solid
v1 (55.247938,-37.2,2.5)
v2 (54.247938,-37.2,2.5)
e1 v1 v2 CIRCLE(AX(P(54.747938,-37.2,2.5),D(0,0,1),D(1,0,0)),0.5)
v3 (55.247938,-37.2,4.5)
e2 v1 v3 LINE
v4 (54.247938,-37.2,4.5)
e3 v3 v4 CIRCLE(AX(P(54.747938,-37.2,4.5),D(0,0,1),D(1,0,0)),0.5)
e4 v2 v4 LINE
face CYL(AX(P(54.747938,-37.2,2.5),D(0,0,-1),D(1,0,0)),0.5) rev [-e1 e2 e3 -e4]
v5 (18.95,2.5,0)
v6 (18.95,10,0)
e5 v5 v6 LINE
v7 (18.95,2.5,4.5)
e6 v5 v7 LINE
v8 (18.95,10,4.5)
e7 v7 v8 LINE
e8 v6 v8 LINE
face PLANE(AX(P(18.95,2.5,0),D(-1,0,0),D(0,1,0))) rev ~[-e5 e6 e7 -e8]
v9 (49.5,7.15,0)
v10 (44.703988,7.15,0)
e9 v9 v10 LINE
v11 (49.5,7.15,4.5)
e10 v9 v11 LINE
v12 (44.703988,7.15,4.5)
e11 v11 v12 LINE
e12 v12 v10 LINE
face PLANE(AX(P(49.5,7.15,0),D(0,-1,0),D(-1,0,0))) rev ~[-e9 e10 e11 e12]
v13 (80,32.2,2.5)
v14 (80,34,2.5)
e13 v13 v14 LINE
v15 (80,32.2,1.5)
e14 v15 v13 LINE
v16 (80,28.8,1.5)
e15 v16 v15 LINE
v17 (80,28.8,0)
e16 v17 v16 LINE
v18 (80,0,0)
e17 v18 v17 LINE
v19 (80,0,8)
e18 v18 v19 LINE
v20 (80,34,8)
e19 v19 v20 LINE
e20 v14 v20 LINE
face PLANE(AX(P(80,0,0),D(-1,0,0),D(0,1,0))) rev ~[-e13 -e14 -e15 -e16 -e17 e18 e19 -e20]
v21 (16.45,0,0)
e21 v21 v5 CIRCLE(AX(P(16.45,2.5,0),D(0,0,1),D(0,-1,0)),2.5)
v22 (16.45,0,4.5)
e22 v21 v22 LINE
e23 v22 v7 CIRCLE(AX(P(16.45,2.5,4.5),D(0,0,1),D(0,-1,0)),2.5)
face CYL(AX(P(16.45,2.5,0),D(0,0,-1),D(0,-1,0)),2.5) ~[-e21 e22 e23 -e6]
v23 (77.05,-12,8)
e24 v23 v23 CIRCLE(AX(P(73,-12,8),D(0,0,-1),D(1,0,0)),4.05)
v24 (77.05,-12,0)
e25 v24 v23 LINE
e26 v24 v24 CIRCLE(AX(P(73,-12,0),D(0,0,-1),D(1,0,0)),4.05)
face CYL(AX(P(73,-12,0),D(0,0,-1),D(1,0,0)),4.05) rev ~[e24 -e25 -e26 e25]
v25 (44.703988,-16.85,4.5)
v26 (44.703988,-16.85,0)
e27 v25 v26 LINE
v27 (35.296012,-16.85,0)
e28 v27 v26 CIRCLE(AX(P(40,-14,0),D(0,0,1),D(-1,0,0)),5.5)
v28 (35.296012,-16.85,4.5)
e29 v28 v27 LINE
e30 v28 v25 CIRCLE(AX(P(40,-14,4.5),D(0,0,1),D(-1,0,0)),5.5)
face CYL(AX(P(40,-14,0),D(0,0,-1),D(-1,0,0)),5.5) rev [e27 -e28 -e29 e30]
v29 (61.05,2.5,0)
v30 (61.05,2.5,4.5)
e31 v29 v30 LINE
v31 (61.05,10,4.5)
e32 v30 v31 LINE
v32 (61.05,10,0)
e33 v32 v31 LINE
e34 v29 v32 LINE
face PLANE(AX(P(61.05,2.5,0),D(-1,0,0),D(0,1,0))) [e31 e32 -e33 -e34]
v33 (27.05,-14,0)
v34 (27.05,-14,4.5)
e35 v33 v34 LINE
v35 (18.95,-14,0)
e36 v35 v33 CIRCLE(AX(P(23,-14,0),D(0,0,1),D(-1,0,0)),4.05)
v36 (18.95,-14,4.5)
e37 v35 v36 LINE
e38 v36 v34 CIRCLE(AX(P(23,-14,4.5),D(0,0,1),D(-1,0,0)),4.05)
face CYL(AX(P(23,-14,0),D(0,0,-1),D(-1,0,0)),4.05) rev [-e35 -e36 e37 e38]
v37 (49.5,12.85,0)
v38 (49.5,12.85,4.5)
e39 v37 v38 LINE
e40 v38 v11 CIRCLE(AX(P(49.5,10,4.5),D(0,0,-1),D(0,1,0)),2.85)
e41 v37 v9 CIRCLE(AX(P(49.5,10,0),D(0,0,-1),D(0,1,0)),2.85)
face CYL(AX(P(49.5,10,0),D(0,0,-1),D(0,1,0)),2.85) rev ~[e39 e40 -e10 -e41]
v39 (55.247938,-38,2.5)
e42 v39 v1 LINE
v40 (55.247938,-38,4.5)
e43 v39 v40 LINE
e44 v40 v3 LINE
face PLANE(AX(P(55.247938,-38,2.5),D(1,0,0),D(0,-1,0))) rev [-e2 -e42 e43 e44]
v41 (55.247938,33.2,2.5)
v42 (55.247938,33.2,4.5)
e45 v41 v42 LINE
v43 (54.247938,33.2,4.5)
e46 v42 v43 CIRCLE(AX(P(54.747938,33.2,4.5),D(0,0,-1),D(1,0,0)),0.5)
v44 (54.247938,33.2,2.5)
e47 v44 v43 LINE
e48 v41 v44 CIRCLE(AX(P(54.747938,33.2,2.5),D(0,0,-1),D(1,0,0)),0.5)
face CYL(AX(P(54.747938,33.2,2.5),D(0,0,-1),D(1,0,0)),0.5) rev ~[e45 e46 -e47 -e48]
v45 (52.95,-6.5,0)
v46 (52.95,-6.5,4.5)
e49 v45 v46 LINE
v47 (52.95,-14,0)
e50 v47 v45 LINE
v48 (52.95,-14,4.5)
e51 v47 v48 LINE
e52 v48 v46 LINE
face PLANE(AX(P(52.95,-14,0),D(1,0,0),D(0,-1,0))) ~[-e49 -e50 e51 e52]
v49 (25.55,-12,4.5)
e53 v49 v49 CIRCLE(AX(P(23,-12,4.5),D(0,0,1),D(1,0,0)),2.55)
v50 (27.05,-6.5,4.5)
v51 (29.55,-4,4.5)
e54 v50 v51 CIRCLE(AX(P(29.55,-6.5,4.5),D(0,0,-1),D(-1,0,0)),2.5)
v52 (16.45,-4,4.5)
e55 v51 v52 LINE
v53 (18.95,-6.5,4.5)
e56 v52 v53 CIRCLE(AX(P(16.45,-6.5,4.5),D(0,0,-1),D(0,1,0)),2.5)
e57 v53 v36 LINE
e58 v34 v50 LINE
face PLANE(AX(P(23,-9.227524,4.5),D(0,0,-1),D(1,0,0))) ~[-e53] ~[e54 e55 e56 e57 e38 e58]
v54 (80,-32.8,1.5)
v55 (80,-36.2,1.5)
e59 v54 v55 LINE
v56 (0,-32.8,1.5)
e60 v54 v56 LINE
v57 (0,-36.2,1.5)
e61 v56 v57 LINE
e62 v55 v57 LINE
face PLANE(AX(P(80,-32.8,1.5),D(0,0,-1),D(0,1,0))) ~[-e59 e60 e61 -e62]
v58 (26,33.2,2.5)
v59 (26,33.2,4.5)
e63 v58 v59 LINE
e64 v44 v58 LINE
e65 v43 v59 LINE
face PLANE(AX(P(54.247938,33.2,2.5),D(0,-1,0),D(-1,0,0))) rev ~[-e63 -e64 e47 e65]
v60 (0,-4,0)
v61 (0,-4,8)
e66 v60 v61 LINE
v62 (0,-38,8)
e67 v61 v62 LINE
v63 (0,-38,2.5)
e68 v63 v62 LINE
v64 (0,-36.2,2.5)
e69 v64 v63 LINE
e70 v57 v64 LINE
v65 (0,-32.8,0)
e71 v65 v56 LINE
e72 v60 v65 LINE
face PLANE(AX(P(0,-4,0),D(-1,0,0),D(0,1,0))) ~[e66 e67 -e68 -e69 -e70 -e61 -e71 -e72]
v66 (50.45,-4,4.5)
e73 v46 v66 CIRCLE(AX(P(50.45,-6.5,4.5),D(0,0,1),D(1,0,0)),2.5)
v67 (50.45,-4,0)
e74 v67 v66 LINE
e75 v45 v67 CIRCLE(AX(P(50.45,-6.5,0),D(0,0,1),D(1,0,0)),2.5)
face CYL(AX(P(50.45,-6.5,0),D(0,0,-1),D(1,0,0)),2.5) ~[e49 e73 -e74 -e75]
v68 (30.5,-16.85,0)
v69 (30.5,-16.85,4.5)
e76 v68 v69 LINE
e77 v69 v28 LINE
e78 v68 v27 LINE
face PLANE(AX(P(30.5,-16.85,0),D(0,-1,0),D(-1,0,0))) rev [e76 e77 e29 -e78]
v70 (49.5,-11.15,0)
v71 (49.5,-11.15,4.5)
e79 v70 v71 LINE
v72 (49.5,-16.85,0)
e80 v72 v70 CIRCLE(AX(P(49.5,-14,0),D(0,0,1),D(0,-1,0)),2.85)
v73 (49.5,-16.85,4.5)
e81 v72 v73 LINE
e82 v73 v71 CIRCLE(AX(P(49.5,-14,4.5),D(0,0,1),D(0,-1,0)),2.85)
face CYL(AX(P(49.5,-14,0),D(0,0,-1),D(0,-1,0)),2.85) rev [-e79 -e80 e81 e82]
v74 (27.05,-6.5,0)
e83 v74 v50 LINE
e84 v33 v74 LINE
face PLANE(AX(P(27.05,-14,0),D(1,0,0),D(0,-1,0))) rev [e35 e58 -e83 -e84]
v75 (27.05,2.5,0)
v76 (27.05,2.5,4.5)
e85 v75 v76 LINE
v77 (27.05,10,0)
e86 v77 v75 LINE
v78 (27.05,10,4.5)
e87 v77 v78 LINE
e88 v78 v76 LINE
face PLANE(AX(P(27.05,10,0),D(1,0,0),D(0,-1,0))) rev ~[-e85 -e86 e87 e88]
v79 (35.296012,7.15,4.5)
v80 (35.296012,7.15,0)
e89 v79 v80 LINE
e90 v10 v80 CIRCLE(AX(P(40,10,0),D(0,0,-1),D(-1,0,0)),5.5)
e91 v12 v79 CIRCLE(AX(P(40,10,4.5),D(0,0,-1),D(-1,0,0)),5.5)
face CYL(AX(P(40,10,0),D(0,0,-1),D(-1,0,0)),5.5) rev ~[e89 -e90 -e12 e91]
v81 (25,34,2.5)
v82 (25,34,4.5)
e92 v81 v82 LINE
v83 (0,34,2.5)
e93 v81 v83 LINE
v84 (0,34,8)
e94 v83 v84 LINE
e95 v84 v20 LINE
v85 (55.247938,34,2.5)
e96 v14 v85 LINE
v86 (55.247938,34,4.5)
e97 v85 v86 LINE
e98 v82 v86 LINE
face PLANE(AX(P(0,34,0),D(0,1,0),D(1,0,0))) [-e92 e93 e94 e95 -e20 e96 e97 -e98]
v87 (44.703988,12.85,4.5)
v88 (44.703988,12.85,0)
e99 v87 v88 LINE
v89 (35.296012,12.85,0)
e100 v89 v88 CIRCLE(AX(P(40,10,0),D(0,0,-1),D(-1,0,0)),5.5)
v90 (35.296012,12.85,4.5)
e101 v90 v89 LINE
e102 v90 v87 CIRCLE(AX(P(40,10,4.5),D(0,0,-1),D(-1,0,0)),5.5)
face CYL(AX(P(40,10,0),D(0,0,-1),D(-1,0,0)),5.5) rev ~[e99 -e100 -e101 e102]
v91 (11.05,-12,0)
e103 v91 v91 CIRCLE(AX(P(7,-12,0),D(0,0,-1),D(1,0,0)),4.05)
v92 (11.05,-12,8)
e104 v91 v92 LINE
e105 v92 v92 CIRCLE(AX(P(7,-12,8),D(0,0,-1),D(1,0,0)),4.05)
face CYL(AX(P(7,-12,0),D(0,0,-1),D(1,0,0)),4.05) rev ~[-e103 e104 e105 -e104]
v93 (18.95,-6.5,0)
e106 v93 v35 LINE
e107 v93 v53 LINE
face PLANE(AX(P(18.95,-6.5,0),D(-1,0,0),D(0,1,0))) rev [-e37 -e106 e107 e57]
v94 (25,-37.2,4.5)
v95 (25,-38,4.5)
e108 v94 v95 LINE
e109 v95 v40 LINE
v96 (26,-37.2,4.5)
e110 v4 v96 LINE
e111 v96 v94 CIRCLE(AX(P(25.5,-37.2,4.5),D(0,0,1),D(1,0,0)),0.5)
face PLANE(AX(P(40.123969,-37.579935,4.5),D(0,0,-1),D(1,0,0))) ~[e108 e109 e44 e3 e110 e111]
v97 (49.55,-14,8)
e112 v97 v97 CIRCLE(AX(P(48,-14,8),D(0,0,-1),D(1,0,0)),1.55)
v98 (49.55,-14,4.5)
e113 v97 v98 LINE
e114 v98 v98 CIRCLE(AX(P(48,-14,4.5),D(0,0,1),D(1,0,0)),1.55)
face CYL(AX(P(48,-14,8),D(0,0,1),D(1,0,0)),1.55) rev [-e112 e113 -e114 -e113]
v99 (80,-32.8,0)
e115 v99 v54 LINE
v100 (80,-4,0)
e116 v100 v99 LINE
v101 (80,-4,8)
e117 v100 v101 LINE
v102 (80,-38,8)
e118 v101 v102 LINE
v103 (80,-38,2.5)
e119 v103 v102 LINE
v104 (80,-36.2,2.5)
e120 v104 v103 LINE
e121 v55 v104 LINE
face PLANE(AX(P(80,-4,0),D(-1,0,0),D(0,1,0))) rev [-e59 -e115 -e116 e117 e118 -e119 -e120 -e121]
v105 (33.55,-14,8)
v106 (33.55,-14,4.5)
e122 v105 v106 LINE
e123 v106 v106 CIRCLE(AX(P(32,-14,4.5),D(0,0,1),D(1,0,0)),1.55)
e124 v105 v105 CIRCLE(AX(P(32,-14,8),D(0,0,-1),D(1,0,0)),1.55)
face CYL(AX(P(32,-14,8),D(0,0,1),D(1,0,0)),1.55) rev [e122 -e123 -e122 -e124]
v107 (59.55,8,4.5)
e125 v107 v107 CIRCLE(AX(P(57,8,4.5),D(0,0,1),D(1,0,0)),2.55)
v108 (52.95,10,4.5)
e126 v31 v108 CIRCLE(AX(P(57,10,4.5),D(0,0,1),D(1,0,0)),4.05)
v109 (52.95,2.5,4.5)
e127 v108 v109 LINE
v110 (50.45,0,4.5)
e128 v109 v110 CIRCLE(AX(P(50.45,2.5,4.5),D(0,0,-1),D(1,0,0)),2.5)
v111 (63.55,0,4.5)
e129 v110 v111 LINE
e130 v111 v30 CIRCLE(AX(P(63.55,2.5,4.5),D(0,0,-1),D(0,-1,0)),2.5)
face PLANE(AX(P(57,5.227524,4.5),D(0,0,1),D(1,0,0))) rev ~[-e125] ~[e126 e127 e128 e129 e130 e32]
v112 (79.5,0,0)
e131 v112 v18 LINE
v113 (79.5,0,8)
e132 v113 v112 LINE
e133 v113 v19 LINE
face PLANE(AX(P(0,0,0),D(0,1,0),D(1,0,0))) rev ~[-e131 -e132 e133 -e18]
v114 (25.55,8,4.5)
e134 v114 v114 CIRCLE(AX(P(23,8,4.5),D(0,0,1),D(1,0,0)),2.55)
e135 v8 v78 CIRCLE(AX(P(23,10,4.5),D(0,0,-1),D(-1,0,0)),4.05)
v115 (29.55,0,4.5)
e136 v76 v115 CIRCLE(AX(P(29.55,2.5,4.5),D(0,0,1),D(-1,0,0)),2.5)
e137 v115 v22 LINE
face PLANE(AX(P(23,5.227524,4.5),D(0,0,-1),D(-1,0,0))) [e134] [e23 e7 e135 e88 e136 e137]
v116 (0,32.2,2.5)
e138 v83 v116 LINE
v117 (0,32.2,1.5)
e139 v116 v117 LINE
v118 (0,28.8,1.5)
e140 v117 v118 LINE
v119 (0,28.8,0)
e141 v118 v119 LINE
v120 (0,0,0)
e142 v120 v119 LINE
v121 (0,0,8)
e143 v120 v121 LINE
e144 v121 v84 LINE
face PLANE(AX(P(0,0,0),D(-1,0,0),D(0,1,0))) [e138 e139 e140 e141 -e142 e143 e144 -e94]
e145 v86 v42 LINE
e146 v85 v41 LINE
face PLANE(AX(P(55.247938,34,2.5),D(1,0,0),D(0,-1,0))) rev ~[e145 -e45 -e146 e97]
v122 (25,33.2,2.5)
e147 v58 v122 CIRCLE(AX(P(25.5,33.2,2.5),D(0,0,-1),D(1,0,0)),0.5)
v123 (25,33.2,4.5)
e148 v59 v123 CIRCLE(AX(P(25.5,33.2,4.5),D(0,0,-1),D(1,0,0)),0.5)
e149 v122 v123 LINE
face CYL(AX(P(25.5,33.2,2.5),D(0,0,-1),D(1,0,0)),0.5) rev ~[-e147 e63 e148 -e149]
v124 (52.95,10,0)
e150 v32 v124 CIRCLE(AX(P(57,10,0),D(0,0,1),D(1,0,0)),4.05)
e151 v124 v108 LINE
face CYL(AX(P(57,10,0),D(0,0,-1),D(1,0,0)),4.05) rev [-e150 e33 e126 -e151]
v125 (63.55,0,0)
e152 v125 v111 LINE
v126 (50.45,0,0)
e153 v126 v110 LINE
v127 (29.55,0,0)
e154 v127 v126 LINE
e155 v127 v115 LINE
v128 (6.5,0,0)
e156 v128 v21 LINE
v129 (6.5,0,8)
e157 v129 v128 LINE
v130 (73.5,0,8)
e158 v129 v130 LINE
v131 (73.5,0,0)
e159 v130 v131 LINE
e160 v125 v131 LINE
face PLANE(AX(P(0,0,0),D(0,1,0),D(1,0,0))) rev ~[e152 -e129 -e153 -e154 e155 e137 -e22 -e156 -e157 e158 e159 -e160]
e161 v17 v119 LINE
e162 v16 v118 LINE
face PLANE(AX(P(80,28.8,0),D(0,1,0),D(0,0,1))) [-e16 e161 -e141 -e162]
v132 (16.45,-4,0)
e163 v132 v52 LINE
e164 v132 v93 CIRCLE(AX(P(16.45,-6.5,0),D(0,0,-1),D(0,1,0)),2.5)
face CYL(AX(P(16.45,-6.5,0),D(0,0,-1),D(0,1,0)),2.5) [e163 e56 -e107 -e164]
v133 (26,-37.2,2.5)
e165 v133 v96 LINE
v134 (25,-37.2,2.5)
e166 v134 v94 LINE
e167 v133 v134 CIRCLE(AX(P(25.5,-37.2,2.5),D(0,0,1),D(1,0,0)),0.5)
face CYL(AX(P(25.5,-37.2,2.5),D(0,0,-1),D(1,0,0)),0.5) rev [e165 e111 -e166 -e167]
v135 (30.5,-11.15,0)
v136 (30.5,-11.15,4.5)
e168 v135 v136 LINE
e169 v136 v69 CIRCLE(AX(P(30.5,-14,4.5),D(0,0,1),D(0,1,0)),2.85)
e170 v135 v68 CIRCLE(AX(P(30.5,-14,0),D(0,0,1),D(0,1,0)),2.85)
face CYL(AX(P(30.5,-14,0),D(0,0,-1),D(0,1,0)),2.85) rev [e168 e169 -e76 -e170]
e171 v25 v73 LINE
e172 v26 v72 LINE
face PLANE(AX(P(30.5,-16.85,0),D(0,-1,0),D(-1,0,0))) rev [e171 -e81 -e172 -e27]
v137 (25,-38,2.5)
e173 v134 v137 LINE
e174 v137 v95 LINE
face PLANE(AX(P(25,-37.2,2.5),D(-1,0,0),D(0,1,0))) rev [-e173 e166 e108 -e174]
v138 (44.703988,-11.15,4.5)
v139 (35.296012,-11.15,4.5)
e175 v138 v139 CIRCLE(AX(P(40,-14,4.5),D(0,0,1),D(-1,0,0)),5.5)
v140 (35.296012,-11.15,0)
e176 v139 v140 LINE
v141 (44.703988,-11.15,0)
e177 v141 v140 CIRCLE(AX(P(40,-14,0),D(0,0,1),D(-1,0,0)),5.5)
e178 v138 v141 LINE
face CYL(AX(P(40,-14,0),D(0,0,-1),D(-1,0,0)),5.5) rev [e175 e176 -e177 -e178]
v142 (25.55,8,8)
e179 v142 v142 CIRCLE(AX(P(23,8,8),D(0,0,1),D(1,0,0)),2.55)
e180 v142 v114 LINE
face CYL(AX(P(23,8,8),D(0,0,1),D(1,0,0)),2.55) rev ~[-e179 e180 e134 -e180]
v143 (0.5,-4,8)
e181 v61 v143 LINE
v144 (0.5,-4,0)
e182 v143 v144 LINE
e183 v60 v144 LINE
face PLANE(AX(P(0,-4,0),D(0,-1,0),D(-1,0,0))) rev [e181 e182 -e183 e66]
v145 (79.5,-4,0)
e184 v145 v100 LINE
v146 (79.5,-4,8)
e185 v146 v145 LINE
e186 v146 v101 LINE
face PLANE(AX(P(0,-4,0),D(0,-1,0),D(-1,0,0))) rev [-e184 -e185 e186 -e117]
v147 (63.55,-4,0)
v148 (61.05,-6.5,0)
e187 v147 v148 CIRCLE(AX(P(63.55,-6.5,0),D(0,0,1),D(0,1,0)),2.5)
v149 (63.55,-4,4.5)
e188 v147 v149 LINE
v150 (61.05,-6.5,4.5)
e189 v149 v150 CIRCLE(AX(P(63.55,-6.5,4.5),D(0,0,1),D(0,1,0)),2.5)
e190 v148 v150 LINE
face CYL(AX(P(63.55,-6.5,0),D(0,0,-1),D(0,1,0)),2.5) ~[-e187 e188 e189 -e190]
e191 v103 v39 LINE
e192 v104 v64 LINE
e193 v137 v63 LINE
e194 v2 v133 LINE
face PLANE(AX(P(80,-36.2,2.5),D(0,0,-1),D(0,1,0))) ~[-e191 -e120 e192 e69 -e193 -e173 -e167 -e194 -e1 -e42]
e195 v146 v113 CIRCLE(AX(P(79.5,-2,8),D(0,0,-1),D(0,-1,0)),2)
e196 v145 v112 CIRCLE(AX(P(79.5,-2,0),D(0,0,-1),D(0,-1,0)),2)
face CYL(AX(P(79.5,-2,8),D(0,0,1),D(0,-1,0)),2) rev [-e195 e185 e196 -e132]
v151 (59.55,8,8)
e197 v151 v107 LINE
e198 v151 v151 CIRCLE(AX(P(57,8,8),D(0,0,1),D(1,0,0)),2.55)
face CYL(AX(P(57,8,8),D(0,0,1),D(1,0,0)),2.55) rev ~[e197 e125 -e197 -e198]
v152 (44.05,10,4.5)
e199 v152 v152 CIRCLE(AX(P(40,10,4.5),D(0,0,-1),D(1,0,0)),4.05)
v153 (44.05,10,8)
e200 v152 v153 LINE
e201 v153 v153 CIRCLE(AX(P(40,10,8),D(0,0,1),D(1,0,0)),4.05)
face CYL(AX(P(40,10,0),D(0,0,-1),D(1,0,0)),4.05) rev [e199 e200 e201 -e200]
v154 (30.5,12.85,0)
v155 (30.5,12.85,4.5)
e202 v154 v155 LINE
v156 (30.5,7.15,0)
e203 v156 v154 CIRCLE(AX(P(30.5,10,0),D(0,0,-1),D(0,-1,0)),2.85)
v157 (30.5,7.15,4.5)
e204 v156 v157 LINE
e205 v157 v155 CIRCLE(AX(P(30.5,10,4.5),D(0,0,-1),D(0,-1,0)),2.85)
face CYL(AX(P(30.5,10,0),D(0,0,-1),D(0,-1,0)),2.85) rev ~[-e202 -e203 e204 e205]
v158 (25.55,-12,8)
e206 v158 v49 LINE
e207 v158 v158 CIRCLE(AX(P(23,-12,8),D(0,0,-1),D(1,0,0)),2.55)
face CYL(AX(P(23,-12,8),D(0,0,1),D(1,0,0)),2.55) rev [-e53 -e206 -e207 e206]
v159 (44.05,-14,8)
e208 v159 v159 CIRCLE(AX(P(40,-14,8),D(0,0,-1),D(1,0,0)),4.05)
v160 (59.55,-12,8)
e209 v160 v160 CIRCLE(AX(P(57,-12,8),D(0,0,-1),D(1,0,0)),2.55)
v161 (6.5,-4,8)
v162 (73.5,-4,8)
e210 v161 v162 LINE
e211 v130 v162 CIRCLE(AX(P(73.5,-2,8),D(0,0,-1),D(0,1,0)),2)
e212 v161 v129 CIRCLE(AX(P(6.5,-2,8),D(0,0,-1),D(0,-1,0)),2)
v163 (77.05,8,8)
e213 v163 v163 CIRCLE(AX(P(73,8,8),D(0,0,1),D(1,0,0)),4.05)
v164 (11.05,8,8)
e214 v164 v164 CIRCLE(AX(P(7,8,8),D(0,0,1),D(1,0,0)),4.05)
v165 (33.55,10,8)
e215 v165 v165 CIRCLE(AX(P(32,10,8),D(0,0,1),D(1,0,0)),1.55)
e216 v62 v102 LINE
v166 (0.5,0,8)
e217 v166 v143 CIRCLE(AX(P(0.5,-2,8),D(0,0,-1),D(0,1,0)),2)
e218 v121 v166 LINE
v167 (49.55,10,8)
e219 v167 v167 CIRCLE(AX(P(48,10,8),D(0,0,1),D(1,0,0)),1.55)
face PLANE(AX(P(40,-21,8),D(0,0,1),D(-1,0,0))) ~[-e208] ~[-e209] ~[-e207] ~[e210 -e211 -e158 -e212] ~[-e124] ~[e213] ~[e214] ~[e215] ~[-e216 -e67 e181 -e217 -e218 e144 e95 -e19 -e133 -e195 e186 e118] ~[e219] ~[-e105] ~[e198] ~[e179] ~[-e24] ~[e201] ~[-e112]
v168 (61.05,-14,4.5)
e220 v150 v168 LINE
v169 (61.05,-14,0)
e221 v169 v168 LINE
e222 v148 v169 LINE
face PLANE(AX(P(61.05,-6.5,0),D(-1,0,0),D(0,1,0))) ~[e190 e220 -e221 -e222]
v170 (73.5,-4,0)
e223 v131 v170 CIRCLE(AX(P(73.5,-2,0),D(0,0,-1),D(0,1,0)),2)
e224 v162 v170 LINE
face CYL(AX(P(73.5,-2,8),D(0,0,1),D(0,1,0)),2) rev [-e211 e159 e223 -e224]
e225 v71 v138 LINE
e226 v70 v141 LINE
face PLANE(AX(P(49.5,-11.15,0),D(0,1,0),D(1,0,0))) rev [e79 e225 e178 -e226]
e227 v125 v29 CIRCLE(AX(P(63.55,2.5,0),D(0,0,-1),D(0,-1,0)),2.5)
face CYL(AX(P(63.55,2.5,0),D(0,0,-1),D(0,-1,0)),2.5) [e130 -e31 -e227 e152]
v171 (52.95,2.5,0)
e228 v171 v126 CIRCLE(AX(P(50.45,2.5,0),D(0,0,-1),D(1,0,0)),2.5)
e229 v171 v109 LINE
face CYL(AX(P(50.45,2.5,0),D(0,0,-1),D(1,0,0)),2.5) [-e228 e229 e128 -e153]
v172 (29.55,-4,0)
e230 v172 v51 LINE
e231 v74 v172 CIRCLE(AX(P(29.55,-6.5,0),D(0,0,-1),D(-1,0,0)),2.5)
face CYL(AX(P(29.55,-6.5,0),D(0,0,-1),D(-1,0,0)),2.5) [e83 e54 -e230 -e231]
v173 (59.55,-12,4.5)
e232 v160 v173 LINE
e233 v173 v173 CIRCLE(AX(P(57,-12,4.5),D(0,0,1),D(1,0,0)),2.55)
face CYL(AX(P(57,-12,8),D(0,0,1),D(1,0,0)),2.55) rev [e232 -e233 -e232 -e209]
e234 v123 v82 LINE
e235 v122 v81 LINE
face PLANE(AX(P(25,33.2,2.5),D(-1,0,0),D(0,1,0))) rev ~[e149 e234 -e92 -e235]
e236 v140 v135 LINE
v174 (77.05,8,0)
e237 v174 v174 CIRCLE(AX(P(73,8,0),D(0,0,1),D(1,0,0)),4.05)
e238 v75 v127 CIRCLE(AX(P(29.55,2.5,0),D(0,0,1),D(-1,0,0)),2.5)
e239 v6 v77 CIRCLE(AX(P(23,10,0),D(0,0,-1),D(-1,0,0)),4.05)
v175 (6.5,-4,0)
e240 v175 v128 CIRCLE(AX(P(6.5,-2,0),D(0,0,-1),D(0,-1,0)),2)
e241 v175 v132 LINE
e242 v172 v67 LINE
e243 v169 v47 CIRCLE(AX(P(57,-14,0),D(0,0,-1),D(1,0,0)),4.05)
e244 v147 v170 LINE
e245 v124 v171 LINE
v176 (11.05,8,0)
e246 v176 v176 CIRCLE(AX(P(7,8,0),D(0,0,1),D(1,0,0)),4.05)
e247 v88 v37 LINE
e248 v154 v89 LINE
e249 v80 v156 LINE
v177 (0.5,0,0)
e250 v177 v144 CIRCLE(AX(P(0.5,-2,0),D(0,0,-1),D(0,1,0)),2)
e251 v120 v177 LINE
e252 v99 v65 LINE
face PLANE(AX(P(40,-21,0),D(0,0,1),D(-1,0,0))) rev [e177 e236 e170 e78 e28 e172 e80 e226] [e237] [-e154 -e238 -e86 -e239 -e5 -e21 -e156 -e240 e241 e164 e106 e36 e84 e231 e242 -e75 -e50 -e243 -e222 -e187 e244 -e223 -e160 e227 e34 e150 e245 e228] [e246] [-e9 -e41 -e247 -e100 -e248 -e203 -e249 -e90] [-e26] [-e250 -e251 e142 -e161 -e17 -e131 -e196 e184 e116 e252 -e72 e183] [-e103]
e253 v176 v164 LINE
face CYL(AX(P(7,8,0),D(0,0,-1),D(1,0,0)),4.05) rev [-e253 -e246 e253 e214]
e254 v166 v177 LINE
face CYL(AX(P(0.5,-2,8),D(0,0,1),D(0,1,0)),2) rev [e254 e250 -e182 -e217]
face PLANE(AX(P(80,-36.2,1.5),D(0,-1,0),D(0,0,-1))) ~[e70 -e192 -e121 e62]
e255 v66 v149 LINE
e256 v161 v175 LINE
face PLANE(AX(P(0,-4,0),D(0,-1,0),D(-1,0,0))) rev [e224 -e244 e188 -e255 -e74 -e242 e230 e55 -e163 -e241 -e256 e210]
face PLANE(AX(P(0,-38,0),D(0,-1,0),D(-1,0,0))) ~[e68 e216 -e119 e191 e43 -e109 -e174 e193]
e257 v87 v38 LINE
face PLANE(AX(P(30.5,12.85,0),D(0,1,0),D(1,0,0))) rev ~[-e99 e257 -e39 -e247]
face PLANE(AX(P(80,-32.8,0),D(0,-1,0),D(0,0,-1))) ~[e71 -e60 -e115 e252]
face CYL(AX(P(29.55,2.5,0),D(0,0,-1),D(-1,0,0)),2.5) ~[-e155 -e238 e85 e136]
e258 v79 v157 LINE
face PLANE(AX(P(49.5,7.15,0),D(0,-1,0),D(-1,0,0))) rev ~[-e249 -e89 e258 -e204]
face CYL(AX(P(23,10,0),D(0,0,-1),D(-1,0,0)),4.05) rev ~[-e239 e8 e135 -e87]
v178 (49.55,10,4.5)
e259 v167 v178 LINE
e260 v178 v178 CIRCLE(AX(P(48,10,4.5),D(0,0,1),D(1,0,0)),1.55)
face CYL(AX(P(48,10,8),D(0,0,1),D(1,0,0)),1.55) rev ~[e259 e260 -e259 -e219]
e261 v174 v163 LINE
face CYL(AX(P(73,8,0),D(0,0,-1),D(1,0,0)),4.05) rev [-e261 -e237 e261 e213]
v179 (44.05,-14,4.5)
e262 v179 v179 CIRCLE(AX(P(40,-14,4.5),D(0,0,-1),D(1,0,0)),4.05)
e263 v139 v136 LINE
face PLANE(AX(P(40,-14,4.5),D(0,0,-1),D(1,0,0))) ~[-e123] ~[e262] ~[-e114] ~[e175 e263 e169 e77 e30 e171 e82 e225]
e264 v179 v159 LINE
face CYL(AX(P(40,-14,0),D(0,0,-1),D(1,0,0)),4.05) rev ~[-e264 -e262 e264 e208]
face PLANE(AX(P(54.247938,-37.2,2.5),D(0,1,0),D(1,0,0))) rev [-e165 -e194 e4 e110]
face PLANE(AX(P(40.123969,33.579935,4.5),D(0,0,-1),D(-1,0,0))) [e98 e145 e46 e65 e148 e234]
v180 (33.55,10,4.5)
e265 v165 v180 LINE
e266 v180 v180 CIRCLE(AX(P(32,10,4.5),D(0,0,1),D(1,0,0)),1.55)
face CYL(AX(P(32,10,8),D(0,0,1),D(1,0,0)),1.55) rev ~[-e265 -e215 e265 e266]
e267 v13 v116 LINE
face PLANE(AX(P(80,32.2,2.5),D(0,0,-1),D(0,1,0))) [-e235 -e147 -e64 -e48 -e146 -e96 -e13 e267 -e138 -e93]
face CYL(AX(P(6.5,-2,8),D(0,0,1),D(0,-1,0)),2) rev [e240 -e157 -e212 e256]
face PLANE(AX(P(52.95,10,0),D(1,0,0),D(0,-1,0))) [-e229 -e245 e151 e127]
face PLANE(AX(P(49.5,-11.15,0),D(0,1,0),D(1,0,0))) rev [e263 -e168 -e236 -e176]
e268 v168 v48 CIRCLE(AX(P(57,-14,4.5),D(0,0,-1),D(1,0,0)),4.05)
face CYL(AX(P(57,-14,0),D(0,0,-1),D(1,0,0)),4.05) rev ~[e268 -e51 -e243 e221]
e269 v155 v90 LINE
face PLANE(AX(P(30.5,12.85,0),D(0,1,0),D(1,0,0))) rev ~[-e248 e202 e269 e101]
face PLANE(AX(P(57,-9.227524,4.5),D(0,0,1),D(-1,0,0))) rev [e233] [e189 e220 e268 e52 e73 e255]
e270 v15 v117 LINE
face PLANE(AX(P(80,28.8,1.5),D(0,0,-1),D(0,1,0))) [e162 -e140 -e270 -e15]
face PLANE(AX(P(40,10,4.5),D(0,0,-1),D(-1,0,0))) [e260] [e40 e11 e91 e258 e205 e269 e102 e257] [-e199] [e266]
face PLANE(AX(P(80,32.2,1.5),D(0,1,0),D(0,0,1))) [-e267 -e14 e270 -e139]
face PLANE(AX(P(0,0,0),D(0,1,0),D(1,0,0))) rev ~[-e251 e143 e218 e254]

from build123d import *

# Parameters (mm, degrees)
SKETCH_2_W           = 80
SKETCH_2_H           = 34
SKETCH_2_R           = 4.05
EXTRUDE_1_DEPTH      = 8
SKETCH_3_R           = 2.55
CUT_EXTRUDE_1_DEPTH  = 88.292611371
CUT_EXTRUDE_2_DEPTH  = 88.292611371
SKETCH_5_R           = 1.55
CUT_EXTRUDE_3_DEPTH  = 88.292611371
CUT_EXTRUDE_4_DEPTH  = 4.5
CUT_EXTRUDE_5_DEPTH  = 4.5
SKETCH_20_R          = 5.5
CUT_EXTRUDE_12_DEPTH = 4.5
CUT_EXTRUDE_11_DEPTH = 2
EXTRUDE_2_DEPTH      = 8


with BuildPart() as part:
    # 草图2 → 凸台-拉伸1 (new body)
    with BuildSketch(Plane.XY):
        with Locations((40, 17)):
            Rectangle(SKETCH_2_W, SKETCH_2_H)
        with Locations((7, 8)):
            Circle(SKETCH_2_R, mode=Mode.SUBTRACT)
        with Locations((40, 10)):
            Circle(SKETCH_2_R, mode=Mode.SUBTRACT)
        with Locations((73, 8)):
            Circle(SKETCH_2_R, mode=Mode.SUBTRACT)
    extrude_1 = extrude(amount=EXTRUDE_1_DEPTH)

    # 草图3 → 切除-拉伸1 (cut, through all)
    with BuildSketch(Plane.XY.offset(8)):
        with Locations((23, 8)):
            Circle(SKETCH_3_R)
        with Locations((57, 8)):
            Circle(SKETCH_3_R)
    cut_extrude_1 = extrude(amount=-CUT_EXTRUDE_1_DEPTH, mode=Mode.SUBTRACT)

    # 草图4 → 切除-拉伸2 (cut, through all)
    with BuildSketch(Plane(origin=(80, 0, 0), x_dir=(0, 0, -1), z_dir=(1, 0, 0))):
        Polygon((-1.5, 32.2), (-2.5, 32.2), (-2.5, 34), (0, 34), (0, 28.8), (-1.5, 28.8), align=None)
    cut_extrude_2 = extrude(amount=-CUT_EXTRUDE_2_DEPTH, mode=Mode.SUBTRACT)

    # 草图5 → 切除-拉伸3 (cut, through all)
    with BuildSketch(Plane.XY.offset(8)):
        with Locations((48, 10)):
            Circle(SKETCH_5_R)
        with Locations((32, 10)):
            Circle(SKETCH_5_R)
    cut_extrude_3 = extrude(amount=-CUT_EXTRUDE_3_DEPTH, mode=Mode.SUBTRACT)

    # 草图7 → 切除-拉伸4 (cut)
    with BuildSketch(Plane(origin=(0, 0, 0), x_dir=(-1, 0, 0), z_dir=(0, 0, -1))):
        with BuildLine():
            Line((-27.05, 10), (-27.05, 2.5))
            ThreePointArc((-27.05, 2.5), (-27.782233047, 0.732233047), (-29.55, 0))
            Line((-29.55, 0), (-16.45, 0))
            ThreePointArc((-16.45, 0), (-18.217766953, 0.732233047), (-18.95, 2.5))
            Line((-18.95, 2.5), (-18.95, 10))
            ThreePointArc((-18.95, 10), (-23, 14.05), (-27.05, 10))
        make_face()
        with BuildLine():
            Line((-61.05, 2.5), (-61.05, 10))
            ThreePointArc((-61.05, 10), (-57, 14.05), (-52.95, 10))
            Line((-52.95, 10), (-52.95, 2.5))
            ThreePointArc((-52.95, 2.5), (-52.217766953, 0.732233047), (-50.45, 0))
            Line((-50.45, 0), (-63.55, 0))
            ThreePointArc((-63.55, 0), (-61.782233047, 0.732233047), (-61.05, 2.5))
        make_face()
    cut_extrude_4 = extrude(amount=-CUT_EXTRUDE_4_DEPTH, mode=Mode.SUBTRACT)

    # 草图8 → 切除-拉伸5 (cut)
    with BuildSketch(Plane(origin=(0, 0, 0), x_dir=(-1, 0, 0), z_dir=(0, 0, -1))):
        with BuildLine():
            Line((-30.5, 12.85), (-49.5, 12.85))
            ThreePointArc((-49.5, 12.85), (-52.35, 10), (-49.5, 7.15))
            Line((-49.5, 7.15), (-30.5, 7.15))
            ThreePointArc((-30.5, 7.15), (-27.65, 10), (-30.5, 12.85))
        make_face()
    cut_extrude_5 = extrude(amount=-CUT_EXTRUDE_5_DEPTH, mode=Mode.SUBTRACT)

    # 草图20 → 切除-拉伸12 (cut)
    with BuildSketch(Plane(origin=(0, 0, 0), x_dir=(-1, 0, 0), z_dir=(0, 0, -1))):
        with Locations((-40, 10)):
            Circle(SKETCH_20_R)
    cut_extrude_12 = extrude(amount=-CUT_EXTRUDE_12_DEPTH, mode=Mode.SUBTRACT)

    # 草图19 → 切除-拉伸11 (cut)
    with BuildSketch(Plane(origin=(0, 0, 2.5), x_dir=(-1, 0, 0), z_dir=(0, 0, -1))):
        with BuildLine():
            Line((-25, 34), (-55.247938178, 34))
            Line((-55.247938178, 34), (-55.247938178, 33.2))
            ThreePointArc((-55.247938178, 33.2), (-54.747938178, 32.7), (-54.247938178, 33.2))
            Line((-54.247938178, 33.2), (-26, 33.2))
            ThreePointArc((-26, 33.2), (-25.5, 32.7), (-25, 33.2))
            Line((-25, 33.2), (-25, 34))
        make_face()
    cut_extrude_11 = extrude(amount=-CUT_EXTRUDE_11_DEPTH, mode=Mode.SUBTRACT)

    # 草图22 → 凸台-拉伸2 (add)
    with BuildSketch(Plane.XY.offset(8)):
        with BuildLine():
            Line((0.5, -4), (6.5, -4))
            ThreePointArc((6.5, -4), (4.5, -2), (6.5, 0))
            Line((6.5, 0), (0.5, 0))
            ThreePointArc((0.5, 0), (2.5, -2), (0.5, -4))
        make_face()
        with BuildLine():
            Line((79.5, 0), (73.5, 0))
            ThreePointArc((73.5, 0), (75.5, -2), (73.5, -4))
            Line((73.5, -4), (79.5, -4))
            ThreePointArc((79.5, -4), (77.5, -2), (79.5, 0))
        make_face()
    extrude(amount=-EXTRUDE_2_DEPTH)

    # 镜向2: 凸台-拉伸1, 切除-拉伸1, 切除-拉伸2, 切除-拉伸3, 切除-拉伸4, 切除-拉伸5, 切除-拉伸12, 切除-拉伸11 across plane
    add(extrude_1.mirror(Plane(origin=(0, -2, 0), x_dir=(0, 0, 1), z_dir=(0, -1, 0))))
    add(cut_extrude_1.mirror(Plane(origin=(0, -2, 0), x_dir=(0, 0, 1), z_dir=(0, -1, 0))), mode=Mode.SUBTRACT)
    add(cut_extrude_2.mirror(Plane(origin=(0, -2, 0), x_dir=(0, 0, 1), z_dir=(0, -1, 0))), mode=Mode.SUBTRACT)
    add(cut_extrude_3.mirror(Plane(origin=(0, -2, 0), x_dir=(0, 0, 1), z_dir=(0, -1, 0))), mode=Mode.SUBTRACT)
    add(cut_extrude_4.mirror(Plane(origin=(0, -2, 0), x_dir=(0, 0, 1), z_dir=(0, -1, 0))), mode=Mode.SUBTRACT)
    add(cut_extrude_5.mirror(Plane(origin=(0, -2, 0), x_dir=(0, 0, 1), z_dir=(0, -1, 0))), mode=Mode.SUBTRACT)
    add(cut_extrude_12.mirror(Plane(origin=(0, -2, 0), x_dir=(0, 0, 1), z_dir=(0, -1, 0))), mode=Mode.SUBTRACT)
    add(cut_extrude_11.mirror(Plane(origin=(0, -2, 0), x_dir=(0, 0, 1), z_dir=(0, -1, 0))), mode=Mode.SUBTRACT)


solid = part.part
